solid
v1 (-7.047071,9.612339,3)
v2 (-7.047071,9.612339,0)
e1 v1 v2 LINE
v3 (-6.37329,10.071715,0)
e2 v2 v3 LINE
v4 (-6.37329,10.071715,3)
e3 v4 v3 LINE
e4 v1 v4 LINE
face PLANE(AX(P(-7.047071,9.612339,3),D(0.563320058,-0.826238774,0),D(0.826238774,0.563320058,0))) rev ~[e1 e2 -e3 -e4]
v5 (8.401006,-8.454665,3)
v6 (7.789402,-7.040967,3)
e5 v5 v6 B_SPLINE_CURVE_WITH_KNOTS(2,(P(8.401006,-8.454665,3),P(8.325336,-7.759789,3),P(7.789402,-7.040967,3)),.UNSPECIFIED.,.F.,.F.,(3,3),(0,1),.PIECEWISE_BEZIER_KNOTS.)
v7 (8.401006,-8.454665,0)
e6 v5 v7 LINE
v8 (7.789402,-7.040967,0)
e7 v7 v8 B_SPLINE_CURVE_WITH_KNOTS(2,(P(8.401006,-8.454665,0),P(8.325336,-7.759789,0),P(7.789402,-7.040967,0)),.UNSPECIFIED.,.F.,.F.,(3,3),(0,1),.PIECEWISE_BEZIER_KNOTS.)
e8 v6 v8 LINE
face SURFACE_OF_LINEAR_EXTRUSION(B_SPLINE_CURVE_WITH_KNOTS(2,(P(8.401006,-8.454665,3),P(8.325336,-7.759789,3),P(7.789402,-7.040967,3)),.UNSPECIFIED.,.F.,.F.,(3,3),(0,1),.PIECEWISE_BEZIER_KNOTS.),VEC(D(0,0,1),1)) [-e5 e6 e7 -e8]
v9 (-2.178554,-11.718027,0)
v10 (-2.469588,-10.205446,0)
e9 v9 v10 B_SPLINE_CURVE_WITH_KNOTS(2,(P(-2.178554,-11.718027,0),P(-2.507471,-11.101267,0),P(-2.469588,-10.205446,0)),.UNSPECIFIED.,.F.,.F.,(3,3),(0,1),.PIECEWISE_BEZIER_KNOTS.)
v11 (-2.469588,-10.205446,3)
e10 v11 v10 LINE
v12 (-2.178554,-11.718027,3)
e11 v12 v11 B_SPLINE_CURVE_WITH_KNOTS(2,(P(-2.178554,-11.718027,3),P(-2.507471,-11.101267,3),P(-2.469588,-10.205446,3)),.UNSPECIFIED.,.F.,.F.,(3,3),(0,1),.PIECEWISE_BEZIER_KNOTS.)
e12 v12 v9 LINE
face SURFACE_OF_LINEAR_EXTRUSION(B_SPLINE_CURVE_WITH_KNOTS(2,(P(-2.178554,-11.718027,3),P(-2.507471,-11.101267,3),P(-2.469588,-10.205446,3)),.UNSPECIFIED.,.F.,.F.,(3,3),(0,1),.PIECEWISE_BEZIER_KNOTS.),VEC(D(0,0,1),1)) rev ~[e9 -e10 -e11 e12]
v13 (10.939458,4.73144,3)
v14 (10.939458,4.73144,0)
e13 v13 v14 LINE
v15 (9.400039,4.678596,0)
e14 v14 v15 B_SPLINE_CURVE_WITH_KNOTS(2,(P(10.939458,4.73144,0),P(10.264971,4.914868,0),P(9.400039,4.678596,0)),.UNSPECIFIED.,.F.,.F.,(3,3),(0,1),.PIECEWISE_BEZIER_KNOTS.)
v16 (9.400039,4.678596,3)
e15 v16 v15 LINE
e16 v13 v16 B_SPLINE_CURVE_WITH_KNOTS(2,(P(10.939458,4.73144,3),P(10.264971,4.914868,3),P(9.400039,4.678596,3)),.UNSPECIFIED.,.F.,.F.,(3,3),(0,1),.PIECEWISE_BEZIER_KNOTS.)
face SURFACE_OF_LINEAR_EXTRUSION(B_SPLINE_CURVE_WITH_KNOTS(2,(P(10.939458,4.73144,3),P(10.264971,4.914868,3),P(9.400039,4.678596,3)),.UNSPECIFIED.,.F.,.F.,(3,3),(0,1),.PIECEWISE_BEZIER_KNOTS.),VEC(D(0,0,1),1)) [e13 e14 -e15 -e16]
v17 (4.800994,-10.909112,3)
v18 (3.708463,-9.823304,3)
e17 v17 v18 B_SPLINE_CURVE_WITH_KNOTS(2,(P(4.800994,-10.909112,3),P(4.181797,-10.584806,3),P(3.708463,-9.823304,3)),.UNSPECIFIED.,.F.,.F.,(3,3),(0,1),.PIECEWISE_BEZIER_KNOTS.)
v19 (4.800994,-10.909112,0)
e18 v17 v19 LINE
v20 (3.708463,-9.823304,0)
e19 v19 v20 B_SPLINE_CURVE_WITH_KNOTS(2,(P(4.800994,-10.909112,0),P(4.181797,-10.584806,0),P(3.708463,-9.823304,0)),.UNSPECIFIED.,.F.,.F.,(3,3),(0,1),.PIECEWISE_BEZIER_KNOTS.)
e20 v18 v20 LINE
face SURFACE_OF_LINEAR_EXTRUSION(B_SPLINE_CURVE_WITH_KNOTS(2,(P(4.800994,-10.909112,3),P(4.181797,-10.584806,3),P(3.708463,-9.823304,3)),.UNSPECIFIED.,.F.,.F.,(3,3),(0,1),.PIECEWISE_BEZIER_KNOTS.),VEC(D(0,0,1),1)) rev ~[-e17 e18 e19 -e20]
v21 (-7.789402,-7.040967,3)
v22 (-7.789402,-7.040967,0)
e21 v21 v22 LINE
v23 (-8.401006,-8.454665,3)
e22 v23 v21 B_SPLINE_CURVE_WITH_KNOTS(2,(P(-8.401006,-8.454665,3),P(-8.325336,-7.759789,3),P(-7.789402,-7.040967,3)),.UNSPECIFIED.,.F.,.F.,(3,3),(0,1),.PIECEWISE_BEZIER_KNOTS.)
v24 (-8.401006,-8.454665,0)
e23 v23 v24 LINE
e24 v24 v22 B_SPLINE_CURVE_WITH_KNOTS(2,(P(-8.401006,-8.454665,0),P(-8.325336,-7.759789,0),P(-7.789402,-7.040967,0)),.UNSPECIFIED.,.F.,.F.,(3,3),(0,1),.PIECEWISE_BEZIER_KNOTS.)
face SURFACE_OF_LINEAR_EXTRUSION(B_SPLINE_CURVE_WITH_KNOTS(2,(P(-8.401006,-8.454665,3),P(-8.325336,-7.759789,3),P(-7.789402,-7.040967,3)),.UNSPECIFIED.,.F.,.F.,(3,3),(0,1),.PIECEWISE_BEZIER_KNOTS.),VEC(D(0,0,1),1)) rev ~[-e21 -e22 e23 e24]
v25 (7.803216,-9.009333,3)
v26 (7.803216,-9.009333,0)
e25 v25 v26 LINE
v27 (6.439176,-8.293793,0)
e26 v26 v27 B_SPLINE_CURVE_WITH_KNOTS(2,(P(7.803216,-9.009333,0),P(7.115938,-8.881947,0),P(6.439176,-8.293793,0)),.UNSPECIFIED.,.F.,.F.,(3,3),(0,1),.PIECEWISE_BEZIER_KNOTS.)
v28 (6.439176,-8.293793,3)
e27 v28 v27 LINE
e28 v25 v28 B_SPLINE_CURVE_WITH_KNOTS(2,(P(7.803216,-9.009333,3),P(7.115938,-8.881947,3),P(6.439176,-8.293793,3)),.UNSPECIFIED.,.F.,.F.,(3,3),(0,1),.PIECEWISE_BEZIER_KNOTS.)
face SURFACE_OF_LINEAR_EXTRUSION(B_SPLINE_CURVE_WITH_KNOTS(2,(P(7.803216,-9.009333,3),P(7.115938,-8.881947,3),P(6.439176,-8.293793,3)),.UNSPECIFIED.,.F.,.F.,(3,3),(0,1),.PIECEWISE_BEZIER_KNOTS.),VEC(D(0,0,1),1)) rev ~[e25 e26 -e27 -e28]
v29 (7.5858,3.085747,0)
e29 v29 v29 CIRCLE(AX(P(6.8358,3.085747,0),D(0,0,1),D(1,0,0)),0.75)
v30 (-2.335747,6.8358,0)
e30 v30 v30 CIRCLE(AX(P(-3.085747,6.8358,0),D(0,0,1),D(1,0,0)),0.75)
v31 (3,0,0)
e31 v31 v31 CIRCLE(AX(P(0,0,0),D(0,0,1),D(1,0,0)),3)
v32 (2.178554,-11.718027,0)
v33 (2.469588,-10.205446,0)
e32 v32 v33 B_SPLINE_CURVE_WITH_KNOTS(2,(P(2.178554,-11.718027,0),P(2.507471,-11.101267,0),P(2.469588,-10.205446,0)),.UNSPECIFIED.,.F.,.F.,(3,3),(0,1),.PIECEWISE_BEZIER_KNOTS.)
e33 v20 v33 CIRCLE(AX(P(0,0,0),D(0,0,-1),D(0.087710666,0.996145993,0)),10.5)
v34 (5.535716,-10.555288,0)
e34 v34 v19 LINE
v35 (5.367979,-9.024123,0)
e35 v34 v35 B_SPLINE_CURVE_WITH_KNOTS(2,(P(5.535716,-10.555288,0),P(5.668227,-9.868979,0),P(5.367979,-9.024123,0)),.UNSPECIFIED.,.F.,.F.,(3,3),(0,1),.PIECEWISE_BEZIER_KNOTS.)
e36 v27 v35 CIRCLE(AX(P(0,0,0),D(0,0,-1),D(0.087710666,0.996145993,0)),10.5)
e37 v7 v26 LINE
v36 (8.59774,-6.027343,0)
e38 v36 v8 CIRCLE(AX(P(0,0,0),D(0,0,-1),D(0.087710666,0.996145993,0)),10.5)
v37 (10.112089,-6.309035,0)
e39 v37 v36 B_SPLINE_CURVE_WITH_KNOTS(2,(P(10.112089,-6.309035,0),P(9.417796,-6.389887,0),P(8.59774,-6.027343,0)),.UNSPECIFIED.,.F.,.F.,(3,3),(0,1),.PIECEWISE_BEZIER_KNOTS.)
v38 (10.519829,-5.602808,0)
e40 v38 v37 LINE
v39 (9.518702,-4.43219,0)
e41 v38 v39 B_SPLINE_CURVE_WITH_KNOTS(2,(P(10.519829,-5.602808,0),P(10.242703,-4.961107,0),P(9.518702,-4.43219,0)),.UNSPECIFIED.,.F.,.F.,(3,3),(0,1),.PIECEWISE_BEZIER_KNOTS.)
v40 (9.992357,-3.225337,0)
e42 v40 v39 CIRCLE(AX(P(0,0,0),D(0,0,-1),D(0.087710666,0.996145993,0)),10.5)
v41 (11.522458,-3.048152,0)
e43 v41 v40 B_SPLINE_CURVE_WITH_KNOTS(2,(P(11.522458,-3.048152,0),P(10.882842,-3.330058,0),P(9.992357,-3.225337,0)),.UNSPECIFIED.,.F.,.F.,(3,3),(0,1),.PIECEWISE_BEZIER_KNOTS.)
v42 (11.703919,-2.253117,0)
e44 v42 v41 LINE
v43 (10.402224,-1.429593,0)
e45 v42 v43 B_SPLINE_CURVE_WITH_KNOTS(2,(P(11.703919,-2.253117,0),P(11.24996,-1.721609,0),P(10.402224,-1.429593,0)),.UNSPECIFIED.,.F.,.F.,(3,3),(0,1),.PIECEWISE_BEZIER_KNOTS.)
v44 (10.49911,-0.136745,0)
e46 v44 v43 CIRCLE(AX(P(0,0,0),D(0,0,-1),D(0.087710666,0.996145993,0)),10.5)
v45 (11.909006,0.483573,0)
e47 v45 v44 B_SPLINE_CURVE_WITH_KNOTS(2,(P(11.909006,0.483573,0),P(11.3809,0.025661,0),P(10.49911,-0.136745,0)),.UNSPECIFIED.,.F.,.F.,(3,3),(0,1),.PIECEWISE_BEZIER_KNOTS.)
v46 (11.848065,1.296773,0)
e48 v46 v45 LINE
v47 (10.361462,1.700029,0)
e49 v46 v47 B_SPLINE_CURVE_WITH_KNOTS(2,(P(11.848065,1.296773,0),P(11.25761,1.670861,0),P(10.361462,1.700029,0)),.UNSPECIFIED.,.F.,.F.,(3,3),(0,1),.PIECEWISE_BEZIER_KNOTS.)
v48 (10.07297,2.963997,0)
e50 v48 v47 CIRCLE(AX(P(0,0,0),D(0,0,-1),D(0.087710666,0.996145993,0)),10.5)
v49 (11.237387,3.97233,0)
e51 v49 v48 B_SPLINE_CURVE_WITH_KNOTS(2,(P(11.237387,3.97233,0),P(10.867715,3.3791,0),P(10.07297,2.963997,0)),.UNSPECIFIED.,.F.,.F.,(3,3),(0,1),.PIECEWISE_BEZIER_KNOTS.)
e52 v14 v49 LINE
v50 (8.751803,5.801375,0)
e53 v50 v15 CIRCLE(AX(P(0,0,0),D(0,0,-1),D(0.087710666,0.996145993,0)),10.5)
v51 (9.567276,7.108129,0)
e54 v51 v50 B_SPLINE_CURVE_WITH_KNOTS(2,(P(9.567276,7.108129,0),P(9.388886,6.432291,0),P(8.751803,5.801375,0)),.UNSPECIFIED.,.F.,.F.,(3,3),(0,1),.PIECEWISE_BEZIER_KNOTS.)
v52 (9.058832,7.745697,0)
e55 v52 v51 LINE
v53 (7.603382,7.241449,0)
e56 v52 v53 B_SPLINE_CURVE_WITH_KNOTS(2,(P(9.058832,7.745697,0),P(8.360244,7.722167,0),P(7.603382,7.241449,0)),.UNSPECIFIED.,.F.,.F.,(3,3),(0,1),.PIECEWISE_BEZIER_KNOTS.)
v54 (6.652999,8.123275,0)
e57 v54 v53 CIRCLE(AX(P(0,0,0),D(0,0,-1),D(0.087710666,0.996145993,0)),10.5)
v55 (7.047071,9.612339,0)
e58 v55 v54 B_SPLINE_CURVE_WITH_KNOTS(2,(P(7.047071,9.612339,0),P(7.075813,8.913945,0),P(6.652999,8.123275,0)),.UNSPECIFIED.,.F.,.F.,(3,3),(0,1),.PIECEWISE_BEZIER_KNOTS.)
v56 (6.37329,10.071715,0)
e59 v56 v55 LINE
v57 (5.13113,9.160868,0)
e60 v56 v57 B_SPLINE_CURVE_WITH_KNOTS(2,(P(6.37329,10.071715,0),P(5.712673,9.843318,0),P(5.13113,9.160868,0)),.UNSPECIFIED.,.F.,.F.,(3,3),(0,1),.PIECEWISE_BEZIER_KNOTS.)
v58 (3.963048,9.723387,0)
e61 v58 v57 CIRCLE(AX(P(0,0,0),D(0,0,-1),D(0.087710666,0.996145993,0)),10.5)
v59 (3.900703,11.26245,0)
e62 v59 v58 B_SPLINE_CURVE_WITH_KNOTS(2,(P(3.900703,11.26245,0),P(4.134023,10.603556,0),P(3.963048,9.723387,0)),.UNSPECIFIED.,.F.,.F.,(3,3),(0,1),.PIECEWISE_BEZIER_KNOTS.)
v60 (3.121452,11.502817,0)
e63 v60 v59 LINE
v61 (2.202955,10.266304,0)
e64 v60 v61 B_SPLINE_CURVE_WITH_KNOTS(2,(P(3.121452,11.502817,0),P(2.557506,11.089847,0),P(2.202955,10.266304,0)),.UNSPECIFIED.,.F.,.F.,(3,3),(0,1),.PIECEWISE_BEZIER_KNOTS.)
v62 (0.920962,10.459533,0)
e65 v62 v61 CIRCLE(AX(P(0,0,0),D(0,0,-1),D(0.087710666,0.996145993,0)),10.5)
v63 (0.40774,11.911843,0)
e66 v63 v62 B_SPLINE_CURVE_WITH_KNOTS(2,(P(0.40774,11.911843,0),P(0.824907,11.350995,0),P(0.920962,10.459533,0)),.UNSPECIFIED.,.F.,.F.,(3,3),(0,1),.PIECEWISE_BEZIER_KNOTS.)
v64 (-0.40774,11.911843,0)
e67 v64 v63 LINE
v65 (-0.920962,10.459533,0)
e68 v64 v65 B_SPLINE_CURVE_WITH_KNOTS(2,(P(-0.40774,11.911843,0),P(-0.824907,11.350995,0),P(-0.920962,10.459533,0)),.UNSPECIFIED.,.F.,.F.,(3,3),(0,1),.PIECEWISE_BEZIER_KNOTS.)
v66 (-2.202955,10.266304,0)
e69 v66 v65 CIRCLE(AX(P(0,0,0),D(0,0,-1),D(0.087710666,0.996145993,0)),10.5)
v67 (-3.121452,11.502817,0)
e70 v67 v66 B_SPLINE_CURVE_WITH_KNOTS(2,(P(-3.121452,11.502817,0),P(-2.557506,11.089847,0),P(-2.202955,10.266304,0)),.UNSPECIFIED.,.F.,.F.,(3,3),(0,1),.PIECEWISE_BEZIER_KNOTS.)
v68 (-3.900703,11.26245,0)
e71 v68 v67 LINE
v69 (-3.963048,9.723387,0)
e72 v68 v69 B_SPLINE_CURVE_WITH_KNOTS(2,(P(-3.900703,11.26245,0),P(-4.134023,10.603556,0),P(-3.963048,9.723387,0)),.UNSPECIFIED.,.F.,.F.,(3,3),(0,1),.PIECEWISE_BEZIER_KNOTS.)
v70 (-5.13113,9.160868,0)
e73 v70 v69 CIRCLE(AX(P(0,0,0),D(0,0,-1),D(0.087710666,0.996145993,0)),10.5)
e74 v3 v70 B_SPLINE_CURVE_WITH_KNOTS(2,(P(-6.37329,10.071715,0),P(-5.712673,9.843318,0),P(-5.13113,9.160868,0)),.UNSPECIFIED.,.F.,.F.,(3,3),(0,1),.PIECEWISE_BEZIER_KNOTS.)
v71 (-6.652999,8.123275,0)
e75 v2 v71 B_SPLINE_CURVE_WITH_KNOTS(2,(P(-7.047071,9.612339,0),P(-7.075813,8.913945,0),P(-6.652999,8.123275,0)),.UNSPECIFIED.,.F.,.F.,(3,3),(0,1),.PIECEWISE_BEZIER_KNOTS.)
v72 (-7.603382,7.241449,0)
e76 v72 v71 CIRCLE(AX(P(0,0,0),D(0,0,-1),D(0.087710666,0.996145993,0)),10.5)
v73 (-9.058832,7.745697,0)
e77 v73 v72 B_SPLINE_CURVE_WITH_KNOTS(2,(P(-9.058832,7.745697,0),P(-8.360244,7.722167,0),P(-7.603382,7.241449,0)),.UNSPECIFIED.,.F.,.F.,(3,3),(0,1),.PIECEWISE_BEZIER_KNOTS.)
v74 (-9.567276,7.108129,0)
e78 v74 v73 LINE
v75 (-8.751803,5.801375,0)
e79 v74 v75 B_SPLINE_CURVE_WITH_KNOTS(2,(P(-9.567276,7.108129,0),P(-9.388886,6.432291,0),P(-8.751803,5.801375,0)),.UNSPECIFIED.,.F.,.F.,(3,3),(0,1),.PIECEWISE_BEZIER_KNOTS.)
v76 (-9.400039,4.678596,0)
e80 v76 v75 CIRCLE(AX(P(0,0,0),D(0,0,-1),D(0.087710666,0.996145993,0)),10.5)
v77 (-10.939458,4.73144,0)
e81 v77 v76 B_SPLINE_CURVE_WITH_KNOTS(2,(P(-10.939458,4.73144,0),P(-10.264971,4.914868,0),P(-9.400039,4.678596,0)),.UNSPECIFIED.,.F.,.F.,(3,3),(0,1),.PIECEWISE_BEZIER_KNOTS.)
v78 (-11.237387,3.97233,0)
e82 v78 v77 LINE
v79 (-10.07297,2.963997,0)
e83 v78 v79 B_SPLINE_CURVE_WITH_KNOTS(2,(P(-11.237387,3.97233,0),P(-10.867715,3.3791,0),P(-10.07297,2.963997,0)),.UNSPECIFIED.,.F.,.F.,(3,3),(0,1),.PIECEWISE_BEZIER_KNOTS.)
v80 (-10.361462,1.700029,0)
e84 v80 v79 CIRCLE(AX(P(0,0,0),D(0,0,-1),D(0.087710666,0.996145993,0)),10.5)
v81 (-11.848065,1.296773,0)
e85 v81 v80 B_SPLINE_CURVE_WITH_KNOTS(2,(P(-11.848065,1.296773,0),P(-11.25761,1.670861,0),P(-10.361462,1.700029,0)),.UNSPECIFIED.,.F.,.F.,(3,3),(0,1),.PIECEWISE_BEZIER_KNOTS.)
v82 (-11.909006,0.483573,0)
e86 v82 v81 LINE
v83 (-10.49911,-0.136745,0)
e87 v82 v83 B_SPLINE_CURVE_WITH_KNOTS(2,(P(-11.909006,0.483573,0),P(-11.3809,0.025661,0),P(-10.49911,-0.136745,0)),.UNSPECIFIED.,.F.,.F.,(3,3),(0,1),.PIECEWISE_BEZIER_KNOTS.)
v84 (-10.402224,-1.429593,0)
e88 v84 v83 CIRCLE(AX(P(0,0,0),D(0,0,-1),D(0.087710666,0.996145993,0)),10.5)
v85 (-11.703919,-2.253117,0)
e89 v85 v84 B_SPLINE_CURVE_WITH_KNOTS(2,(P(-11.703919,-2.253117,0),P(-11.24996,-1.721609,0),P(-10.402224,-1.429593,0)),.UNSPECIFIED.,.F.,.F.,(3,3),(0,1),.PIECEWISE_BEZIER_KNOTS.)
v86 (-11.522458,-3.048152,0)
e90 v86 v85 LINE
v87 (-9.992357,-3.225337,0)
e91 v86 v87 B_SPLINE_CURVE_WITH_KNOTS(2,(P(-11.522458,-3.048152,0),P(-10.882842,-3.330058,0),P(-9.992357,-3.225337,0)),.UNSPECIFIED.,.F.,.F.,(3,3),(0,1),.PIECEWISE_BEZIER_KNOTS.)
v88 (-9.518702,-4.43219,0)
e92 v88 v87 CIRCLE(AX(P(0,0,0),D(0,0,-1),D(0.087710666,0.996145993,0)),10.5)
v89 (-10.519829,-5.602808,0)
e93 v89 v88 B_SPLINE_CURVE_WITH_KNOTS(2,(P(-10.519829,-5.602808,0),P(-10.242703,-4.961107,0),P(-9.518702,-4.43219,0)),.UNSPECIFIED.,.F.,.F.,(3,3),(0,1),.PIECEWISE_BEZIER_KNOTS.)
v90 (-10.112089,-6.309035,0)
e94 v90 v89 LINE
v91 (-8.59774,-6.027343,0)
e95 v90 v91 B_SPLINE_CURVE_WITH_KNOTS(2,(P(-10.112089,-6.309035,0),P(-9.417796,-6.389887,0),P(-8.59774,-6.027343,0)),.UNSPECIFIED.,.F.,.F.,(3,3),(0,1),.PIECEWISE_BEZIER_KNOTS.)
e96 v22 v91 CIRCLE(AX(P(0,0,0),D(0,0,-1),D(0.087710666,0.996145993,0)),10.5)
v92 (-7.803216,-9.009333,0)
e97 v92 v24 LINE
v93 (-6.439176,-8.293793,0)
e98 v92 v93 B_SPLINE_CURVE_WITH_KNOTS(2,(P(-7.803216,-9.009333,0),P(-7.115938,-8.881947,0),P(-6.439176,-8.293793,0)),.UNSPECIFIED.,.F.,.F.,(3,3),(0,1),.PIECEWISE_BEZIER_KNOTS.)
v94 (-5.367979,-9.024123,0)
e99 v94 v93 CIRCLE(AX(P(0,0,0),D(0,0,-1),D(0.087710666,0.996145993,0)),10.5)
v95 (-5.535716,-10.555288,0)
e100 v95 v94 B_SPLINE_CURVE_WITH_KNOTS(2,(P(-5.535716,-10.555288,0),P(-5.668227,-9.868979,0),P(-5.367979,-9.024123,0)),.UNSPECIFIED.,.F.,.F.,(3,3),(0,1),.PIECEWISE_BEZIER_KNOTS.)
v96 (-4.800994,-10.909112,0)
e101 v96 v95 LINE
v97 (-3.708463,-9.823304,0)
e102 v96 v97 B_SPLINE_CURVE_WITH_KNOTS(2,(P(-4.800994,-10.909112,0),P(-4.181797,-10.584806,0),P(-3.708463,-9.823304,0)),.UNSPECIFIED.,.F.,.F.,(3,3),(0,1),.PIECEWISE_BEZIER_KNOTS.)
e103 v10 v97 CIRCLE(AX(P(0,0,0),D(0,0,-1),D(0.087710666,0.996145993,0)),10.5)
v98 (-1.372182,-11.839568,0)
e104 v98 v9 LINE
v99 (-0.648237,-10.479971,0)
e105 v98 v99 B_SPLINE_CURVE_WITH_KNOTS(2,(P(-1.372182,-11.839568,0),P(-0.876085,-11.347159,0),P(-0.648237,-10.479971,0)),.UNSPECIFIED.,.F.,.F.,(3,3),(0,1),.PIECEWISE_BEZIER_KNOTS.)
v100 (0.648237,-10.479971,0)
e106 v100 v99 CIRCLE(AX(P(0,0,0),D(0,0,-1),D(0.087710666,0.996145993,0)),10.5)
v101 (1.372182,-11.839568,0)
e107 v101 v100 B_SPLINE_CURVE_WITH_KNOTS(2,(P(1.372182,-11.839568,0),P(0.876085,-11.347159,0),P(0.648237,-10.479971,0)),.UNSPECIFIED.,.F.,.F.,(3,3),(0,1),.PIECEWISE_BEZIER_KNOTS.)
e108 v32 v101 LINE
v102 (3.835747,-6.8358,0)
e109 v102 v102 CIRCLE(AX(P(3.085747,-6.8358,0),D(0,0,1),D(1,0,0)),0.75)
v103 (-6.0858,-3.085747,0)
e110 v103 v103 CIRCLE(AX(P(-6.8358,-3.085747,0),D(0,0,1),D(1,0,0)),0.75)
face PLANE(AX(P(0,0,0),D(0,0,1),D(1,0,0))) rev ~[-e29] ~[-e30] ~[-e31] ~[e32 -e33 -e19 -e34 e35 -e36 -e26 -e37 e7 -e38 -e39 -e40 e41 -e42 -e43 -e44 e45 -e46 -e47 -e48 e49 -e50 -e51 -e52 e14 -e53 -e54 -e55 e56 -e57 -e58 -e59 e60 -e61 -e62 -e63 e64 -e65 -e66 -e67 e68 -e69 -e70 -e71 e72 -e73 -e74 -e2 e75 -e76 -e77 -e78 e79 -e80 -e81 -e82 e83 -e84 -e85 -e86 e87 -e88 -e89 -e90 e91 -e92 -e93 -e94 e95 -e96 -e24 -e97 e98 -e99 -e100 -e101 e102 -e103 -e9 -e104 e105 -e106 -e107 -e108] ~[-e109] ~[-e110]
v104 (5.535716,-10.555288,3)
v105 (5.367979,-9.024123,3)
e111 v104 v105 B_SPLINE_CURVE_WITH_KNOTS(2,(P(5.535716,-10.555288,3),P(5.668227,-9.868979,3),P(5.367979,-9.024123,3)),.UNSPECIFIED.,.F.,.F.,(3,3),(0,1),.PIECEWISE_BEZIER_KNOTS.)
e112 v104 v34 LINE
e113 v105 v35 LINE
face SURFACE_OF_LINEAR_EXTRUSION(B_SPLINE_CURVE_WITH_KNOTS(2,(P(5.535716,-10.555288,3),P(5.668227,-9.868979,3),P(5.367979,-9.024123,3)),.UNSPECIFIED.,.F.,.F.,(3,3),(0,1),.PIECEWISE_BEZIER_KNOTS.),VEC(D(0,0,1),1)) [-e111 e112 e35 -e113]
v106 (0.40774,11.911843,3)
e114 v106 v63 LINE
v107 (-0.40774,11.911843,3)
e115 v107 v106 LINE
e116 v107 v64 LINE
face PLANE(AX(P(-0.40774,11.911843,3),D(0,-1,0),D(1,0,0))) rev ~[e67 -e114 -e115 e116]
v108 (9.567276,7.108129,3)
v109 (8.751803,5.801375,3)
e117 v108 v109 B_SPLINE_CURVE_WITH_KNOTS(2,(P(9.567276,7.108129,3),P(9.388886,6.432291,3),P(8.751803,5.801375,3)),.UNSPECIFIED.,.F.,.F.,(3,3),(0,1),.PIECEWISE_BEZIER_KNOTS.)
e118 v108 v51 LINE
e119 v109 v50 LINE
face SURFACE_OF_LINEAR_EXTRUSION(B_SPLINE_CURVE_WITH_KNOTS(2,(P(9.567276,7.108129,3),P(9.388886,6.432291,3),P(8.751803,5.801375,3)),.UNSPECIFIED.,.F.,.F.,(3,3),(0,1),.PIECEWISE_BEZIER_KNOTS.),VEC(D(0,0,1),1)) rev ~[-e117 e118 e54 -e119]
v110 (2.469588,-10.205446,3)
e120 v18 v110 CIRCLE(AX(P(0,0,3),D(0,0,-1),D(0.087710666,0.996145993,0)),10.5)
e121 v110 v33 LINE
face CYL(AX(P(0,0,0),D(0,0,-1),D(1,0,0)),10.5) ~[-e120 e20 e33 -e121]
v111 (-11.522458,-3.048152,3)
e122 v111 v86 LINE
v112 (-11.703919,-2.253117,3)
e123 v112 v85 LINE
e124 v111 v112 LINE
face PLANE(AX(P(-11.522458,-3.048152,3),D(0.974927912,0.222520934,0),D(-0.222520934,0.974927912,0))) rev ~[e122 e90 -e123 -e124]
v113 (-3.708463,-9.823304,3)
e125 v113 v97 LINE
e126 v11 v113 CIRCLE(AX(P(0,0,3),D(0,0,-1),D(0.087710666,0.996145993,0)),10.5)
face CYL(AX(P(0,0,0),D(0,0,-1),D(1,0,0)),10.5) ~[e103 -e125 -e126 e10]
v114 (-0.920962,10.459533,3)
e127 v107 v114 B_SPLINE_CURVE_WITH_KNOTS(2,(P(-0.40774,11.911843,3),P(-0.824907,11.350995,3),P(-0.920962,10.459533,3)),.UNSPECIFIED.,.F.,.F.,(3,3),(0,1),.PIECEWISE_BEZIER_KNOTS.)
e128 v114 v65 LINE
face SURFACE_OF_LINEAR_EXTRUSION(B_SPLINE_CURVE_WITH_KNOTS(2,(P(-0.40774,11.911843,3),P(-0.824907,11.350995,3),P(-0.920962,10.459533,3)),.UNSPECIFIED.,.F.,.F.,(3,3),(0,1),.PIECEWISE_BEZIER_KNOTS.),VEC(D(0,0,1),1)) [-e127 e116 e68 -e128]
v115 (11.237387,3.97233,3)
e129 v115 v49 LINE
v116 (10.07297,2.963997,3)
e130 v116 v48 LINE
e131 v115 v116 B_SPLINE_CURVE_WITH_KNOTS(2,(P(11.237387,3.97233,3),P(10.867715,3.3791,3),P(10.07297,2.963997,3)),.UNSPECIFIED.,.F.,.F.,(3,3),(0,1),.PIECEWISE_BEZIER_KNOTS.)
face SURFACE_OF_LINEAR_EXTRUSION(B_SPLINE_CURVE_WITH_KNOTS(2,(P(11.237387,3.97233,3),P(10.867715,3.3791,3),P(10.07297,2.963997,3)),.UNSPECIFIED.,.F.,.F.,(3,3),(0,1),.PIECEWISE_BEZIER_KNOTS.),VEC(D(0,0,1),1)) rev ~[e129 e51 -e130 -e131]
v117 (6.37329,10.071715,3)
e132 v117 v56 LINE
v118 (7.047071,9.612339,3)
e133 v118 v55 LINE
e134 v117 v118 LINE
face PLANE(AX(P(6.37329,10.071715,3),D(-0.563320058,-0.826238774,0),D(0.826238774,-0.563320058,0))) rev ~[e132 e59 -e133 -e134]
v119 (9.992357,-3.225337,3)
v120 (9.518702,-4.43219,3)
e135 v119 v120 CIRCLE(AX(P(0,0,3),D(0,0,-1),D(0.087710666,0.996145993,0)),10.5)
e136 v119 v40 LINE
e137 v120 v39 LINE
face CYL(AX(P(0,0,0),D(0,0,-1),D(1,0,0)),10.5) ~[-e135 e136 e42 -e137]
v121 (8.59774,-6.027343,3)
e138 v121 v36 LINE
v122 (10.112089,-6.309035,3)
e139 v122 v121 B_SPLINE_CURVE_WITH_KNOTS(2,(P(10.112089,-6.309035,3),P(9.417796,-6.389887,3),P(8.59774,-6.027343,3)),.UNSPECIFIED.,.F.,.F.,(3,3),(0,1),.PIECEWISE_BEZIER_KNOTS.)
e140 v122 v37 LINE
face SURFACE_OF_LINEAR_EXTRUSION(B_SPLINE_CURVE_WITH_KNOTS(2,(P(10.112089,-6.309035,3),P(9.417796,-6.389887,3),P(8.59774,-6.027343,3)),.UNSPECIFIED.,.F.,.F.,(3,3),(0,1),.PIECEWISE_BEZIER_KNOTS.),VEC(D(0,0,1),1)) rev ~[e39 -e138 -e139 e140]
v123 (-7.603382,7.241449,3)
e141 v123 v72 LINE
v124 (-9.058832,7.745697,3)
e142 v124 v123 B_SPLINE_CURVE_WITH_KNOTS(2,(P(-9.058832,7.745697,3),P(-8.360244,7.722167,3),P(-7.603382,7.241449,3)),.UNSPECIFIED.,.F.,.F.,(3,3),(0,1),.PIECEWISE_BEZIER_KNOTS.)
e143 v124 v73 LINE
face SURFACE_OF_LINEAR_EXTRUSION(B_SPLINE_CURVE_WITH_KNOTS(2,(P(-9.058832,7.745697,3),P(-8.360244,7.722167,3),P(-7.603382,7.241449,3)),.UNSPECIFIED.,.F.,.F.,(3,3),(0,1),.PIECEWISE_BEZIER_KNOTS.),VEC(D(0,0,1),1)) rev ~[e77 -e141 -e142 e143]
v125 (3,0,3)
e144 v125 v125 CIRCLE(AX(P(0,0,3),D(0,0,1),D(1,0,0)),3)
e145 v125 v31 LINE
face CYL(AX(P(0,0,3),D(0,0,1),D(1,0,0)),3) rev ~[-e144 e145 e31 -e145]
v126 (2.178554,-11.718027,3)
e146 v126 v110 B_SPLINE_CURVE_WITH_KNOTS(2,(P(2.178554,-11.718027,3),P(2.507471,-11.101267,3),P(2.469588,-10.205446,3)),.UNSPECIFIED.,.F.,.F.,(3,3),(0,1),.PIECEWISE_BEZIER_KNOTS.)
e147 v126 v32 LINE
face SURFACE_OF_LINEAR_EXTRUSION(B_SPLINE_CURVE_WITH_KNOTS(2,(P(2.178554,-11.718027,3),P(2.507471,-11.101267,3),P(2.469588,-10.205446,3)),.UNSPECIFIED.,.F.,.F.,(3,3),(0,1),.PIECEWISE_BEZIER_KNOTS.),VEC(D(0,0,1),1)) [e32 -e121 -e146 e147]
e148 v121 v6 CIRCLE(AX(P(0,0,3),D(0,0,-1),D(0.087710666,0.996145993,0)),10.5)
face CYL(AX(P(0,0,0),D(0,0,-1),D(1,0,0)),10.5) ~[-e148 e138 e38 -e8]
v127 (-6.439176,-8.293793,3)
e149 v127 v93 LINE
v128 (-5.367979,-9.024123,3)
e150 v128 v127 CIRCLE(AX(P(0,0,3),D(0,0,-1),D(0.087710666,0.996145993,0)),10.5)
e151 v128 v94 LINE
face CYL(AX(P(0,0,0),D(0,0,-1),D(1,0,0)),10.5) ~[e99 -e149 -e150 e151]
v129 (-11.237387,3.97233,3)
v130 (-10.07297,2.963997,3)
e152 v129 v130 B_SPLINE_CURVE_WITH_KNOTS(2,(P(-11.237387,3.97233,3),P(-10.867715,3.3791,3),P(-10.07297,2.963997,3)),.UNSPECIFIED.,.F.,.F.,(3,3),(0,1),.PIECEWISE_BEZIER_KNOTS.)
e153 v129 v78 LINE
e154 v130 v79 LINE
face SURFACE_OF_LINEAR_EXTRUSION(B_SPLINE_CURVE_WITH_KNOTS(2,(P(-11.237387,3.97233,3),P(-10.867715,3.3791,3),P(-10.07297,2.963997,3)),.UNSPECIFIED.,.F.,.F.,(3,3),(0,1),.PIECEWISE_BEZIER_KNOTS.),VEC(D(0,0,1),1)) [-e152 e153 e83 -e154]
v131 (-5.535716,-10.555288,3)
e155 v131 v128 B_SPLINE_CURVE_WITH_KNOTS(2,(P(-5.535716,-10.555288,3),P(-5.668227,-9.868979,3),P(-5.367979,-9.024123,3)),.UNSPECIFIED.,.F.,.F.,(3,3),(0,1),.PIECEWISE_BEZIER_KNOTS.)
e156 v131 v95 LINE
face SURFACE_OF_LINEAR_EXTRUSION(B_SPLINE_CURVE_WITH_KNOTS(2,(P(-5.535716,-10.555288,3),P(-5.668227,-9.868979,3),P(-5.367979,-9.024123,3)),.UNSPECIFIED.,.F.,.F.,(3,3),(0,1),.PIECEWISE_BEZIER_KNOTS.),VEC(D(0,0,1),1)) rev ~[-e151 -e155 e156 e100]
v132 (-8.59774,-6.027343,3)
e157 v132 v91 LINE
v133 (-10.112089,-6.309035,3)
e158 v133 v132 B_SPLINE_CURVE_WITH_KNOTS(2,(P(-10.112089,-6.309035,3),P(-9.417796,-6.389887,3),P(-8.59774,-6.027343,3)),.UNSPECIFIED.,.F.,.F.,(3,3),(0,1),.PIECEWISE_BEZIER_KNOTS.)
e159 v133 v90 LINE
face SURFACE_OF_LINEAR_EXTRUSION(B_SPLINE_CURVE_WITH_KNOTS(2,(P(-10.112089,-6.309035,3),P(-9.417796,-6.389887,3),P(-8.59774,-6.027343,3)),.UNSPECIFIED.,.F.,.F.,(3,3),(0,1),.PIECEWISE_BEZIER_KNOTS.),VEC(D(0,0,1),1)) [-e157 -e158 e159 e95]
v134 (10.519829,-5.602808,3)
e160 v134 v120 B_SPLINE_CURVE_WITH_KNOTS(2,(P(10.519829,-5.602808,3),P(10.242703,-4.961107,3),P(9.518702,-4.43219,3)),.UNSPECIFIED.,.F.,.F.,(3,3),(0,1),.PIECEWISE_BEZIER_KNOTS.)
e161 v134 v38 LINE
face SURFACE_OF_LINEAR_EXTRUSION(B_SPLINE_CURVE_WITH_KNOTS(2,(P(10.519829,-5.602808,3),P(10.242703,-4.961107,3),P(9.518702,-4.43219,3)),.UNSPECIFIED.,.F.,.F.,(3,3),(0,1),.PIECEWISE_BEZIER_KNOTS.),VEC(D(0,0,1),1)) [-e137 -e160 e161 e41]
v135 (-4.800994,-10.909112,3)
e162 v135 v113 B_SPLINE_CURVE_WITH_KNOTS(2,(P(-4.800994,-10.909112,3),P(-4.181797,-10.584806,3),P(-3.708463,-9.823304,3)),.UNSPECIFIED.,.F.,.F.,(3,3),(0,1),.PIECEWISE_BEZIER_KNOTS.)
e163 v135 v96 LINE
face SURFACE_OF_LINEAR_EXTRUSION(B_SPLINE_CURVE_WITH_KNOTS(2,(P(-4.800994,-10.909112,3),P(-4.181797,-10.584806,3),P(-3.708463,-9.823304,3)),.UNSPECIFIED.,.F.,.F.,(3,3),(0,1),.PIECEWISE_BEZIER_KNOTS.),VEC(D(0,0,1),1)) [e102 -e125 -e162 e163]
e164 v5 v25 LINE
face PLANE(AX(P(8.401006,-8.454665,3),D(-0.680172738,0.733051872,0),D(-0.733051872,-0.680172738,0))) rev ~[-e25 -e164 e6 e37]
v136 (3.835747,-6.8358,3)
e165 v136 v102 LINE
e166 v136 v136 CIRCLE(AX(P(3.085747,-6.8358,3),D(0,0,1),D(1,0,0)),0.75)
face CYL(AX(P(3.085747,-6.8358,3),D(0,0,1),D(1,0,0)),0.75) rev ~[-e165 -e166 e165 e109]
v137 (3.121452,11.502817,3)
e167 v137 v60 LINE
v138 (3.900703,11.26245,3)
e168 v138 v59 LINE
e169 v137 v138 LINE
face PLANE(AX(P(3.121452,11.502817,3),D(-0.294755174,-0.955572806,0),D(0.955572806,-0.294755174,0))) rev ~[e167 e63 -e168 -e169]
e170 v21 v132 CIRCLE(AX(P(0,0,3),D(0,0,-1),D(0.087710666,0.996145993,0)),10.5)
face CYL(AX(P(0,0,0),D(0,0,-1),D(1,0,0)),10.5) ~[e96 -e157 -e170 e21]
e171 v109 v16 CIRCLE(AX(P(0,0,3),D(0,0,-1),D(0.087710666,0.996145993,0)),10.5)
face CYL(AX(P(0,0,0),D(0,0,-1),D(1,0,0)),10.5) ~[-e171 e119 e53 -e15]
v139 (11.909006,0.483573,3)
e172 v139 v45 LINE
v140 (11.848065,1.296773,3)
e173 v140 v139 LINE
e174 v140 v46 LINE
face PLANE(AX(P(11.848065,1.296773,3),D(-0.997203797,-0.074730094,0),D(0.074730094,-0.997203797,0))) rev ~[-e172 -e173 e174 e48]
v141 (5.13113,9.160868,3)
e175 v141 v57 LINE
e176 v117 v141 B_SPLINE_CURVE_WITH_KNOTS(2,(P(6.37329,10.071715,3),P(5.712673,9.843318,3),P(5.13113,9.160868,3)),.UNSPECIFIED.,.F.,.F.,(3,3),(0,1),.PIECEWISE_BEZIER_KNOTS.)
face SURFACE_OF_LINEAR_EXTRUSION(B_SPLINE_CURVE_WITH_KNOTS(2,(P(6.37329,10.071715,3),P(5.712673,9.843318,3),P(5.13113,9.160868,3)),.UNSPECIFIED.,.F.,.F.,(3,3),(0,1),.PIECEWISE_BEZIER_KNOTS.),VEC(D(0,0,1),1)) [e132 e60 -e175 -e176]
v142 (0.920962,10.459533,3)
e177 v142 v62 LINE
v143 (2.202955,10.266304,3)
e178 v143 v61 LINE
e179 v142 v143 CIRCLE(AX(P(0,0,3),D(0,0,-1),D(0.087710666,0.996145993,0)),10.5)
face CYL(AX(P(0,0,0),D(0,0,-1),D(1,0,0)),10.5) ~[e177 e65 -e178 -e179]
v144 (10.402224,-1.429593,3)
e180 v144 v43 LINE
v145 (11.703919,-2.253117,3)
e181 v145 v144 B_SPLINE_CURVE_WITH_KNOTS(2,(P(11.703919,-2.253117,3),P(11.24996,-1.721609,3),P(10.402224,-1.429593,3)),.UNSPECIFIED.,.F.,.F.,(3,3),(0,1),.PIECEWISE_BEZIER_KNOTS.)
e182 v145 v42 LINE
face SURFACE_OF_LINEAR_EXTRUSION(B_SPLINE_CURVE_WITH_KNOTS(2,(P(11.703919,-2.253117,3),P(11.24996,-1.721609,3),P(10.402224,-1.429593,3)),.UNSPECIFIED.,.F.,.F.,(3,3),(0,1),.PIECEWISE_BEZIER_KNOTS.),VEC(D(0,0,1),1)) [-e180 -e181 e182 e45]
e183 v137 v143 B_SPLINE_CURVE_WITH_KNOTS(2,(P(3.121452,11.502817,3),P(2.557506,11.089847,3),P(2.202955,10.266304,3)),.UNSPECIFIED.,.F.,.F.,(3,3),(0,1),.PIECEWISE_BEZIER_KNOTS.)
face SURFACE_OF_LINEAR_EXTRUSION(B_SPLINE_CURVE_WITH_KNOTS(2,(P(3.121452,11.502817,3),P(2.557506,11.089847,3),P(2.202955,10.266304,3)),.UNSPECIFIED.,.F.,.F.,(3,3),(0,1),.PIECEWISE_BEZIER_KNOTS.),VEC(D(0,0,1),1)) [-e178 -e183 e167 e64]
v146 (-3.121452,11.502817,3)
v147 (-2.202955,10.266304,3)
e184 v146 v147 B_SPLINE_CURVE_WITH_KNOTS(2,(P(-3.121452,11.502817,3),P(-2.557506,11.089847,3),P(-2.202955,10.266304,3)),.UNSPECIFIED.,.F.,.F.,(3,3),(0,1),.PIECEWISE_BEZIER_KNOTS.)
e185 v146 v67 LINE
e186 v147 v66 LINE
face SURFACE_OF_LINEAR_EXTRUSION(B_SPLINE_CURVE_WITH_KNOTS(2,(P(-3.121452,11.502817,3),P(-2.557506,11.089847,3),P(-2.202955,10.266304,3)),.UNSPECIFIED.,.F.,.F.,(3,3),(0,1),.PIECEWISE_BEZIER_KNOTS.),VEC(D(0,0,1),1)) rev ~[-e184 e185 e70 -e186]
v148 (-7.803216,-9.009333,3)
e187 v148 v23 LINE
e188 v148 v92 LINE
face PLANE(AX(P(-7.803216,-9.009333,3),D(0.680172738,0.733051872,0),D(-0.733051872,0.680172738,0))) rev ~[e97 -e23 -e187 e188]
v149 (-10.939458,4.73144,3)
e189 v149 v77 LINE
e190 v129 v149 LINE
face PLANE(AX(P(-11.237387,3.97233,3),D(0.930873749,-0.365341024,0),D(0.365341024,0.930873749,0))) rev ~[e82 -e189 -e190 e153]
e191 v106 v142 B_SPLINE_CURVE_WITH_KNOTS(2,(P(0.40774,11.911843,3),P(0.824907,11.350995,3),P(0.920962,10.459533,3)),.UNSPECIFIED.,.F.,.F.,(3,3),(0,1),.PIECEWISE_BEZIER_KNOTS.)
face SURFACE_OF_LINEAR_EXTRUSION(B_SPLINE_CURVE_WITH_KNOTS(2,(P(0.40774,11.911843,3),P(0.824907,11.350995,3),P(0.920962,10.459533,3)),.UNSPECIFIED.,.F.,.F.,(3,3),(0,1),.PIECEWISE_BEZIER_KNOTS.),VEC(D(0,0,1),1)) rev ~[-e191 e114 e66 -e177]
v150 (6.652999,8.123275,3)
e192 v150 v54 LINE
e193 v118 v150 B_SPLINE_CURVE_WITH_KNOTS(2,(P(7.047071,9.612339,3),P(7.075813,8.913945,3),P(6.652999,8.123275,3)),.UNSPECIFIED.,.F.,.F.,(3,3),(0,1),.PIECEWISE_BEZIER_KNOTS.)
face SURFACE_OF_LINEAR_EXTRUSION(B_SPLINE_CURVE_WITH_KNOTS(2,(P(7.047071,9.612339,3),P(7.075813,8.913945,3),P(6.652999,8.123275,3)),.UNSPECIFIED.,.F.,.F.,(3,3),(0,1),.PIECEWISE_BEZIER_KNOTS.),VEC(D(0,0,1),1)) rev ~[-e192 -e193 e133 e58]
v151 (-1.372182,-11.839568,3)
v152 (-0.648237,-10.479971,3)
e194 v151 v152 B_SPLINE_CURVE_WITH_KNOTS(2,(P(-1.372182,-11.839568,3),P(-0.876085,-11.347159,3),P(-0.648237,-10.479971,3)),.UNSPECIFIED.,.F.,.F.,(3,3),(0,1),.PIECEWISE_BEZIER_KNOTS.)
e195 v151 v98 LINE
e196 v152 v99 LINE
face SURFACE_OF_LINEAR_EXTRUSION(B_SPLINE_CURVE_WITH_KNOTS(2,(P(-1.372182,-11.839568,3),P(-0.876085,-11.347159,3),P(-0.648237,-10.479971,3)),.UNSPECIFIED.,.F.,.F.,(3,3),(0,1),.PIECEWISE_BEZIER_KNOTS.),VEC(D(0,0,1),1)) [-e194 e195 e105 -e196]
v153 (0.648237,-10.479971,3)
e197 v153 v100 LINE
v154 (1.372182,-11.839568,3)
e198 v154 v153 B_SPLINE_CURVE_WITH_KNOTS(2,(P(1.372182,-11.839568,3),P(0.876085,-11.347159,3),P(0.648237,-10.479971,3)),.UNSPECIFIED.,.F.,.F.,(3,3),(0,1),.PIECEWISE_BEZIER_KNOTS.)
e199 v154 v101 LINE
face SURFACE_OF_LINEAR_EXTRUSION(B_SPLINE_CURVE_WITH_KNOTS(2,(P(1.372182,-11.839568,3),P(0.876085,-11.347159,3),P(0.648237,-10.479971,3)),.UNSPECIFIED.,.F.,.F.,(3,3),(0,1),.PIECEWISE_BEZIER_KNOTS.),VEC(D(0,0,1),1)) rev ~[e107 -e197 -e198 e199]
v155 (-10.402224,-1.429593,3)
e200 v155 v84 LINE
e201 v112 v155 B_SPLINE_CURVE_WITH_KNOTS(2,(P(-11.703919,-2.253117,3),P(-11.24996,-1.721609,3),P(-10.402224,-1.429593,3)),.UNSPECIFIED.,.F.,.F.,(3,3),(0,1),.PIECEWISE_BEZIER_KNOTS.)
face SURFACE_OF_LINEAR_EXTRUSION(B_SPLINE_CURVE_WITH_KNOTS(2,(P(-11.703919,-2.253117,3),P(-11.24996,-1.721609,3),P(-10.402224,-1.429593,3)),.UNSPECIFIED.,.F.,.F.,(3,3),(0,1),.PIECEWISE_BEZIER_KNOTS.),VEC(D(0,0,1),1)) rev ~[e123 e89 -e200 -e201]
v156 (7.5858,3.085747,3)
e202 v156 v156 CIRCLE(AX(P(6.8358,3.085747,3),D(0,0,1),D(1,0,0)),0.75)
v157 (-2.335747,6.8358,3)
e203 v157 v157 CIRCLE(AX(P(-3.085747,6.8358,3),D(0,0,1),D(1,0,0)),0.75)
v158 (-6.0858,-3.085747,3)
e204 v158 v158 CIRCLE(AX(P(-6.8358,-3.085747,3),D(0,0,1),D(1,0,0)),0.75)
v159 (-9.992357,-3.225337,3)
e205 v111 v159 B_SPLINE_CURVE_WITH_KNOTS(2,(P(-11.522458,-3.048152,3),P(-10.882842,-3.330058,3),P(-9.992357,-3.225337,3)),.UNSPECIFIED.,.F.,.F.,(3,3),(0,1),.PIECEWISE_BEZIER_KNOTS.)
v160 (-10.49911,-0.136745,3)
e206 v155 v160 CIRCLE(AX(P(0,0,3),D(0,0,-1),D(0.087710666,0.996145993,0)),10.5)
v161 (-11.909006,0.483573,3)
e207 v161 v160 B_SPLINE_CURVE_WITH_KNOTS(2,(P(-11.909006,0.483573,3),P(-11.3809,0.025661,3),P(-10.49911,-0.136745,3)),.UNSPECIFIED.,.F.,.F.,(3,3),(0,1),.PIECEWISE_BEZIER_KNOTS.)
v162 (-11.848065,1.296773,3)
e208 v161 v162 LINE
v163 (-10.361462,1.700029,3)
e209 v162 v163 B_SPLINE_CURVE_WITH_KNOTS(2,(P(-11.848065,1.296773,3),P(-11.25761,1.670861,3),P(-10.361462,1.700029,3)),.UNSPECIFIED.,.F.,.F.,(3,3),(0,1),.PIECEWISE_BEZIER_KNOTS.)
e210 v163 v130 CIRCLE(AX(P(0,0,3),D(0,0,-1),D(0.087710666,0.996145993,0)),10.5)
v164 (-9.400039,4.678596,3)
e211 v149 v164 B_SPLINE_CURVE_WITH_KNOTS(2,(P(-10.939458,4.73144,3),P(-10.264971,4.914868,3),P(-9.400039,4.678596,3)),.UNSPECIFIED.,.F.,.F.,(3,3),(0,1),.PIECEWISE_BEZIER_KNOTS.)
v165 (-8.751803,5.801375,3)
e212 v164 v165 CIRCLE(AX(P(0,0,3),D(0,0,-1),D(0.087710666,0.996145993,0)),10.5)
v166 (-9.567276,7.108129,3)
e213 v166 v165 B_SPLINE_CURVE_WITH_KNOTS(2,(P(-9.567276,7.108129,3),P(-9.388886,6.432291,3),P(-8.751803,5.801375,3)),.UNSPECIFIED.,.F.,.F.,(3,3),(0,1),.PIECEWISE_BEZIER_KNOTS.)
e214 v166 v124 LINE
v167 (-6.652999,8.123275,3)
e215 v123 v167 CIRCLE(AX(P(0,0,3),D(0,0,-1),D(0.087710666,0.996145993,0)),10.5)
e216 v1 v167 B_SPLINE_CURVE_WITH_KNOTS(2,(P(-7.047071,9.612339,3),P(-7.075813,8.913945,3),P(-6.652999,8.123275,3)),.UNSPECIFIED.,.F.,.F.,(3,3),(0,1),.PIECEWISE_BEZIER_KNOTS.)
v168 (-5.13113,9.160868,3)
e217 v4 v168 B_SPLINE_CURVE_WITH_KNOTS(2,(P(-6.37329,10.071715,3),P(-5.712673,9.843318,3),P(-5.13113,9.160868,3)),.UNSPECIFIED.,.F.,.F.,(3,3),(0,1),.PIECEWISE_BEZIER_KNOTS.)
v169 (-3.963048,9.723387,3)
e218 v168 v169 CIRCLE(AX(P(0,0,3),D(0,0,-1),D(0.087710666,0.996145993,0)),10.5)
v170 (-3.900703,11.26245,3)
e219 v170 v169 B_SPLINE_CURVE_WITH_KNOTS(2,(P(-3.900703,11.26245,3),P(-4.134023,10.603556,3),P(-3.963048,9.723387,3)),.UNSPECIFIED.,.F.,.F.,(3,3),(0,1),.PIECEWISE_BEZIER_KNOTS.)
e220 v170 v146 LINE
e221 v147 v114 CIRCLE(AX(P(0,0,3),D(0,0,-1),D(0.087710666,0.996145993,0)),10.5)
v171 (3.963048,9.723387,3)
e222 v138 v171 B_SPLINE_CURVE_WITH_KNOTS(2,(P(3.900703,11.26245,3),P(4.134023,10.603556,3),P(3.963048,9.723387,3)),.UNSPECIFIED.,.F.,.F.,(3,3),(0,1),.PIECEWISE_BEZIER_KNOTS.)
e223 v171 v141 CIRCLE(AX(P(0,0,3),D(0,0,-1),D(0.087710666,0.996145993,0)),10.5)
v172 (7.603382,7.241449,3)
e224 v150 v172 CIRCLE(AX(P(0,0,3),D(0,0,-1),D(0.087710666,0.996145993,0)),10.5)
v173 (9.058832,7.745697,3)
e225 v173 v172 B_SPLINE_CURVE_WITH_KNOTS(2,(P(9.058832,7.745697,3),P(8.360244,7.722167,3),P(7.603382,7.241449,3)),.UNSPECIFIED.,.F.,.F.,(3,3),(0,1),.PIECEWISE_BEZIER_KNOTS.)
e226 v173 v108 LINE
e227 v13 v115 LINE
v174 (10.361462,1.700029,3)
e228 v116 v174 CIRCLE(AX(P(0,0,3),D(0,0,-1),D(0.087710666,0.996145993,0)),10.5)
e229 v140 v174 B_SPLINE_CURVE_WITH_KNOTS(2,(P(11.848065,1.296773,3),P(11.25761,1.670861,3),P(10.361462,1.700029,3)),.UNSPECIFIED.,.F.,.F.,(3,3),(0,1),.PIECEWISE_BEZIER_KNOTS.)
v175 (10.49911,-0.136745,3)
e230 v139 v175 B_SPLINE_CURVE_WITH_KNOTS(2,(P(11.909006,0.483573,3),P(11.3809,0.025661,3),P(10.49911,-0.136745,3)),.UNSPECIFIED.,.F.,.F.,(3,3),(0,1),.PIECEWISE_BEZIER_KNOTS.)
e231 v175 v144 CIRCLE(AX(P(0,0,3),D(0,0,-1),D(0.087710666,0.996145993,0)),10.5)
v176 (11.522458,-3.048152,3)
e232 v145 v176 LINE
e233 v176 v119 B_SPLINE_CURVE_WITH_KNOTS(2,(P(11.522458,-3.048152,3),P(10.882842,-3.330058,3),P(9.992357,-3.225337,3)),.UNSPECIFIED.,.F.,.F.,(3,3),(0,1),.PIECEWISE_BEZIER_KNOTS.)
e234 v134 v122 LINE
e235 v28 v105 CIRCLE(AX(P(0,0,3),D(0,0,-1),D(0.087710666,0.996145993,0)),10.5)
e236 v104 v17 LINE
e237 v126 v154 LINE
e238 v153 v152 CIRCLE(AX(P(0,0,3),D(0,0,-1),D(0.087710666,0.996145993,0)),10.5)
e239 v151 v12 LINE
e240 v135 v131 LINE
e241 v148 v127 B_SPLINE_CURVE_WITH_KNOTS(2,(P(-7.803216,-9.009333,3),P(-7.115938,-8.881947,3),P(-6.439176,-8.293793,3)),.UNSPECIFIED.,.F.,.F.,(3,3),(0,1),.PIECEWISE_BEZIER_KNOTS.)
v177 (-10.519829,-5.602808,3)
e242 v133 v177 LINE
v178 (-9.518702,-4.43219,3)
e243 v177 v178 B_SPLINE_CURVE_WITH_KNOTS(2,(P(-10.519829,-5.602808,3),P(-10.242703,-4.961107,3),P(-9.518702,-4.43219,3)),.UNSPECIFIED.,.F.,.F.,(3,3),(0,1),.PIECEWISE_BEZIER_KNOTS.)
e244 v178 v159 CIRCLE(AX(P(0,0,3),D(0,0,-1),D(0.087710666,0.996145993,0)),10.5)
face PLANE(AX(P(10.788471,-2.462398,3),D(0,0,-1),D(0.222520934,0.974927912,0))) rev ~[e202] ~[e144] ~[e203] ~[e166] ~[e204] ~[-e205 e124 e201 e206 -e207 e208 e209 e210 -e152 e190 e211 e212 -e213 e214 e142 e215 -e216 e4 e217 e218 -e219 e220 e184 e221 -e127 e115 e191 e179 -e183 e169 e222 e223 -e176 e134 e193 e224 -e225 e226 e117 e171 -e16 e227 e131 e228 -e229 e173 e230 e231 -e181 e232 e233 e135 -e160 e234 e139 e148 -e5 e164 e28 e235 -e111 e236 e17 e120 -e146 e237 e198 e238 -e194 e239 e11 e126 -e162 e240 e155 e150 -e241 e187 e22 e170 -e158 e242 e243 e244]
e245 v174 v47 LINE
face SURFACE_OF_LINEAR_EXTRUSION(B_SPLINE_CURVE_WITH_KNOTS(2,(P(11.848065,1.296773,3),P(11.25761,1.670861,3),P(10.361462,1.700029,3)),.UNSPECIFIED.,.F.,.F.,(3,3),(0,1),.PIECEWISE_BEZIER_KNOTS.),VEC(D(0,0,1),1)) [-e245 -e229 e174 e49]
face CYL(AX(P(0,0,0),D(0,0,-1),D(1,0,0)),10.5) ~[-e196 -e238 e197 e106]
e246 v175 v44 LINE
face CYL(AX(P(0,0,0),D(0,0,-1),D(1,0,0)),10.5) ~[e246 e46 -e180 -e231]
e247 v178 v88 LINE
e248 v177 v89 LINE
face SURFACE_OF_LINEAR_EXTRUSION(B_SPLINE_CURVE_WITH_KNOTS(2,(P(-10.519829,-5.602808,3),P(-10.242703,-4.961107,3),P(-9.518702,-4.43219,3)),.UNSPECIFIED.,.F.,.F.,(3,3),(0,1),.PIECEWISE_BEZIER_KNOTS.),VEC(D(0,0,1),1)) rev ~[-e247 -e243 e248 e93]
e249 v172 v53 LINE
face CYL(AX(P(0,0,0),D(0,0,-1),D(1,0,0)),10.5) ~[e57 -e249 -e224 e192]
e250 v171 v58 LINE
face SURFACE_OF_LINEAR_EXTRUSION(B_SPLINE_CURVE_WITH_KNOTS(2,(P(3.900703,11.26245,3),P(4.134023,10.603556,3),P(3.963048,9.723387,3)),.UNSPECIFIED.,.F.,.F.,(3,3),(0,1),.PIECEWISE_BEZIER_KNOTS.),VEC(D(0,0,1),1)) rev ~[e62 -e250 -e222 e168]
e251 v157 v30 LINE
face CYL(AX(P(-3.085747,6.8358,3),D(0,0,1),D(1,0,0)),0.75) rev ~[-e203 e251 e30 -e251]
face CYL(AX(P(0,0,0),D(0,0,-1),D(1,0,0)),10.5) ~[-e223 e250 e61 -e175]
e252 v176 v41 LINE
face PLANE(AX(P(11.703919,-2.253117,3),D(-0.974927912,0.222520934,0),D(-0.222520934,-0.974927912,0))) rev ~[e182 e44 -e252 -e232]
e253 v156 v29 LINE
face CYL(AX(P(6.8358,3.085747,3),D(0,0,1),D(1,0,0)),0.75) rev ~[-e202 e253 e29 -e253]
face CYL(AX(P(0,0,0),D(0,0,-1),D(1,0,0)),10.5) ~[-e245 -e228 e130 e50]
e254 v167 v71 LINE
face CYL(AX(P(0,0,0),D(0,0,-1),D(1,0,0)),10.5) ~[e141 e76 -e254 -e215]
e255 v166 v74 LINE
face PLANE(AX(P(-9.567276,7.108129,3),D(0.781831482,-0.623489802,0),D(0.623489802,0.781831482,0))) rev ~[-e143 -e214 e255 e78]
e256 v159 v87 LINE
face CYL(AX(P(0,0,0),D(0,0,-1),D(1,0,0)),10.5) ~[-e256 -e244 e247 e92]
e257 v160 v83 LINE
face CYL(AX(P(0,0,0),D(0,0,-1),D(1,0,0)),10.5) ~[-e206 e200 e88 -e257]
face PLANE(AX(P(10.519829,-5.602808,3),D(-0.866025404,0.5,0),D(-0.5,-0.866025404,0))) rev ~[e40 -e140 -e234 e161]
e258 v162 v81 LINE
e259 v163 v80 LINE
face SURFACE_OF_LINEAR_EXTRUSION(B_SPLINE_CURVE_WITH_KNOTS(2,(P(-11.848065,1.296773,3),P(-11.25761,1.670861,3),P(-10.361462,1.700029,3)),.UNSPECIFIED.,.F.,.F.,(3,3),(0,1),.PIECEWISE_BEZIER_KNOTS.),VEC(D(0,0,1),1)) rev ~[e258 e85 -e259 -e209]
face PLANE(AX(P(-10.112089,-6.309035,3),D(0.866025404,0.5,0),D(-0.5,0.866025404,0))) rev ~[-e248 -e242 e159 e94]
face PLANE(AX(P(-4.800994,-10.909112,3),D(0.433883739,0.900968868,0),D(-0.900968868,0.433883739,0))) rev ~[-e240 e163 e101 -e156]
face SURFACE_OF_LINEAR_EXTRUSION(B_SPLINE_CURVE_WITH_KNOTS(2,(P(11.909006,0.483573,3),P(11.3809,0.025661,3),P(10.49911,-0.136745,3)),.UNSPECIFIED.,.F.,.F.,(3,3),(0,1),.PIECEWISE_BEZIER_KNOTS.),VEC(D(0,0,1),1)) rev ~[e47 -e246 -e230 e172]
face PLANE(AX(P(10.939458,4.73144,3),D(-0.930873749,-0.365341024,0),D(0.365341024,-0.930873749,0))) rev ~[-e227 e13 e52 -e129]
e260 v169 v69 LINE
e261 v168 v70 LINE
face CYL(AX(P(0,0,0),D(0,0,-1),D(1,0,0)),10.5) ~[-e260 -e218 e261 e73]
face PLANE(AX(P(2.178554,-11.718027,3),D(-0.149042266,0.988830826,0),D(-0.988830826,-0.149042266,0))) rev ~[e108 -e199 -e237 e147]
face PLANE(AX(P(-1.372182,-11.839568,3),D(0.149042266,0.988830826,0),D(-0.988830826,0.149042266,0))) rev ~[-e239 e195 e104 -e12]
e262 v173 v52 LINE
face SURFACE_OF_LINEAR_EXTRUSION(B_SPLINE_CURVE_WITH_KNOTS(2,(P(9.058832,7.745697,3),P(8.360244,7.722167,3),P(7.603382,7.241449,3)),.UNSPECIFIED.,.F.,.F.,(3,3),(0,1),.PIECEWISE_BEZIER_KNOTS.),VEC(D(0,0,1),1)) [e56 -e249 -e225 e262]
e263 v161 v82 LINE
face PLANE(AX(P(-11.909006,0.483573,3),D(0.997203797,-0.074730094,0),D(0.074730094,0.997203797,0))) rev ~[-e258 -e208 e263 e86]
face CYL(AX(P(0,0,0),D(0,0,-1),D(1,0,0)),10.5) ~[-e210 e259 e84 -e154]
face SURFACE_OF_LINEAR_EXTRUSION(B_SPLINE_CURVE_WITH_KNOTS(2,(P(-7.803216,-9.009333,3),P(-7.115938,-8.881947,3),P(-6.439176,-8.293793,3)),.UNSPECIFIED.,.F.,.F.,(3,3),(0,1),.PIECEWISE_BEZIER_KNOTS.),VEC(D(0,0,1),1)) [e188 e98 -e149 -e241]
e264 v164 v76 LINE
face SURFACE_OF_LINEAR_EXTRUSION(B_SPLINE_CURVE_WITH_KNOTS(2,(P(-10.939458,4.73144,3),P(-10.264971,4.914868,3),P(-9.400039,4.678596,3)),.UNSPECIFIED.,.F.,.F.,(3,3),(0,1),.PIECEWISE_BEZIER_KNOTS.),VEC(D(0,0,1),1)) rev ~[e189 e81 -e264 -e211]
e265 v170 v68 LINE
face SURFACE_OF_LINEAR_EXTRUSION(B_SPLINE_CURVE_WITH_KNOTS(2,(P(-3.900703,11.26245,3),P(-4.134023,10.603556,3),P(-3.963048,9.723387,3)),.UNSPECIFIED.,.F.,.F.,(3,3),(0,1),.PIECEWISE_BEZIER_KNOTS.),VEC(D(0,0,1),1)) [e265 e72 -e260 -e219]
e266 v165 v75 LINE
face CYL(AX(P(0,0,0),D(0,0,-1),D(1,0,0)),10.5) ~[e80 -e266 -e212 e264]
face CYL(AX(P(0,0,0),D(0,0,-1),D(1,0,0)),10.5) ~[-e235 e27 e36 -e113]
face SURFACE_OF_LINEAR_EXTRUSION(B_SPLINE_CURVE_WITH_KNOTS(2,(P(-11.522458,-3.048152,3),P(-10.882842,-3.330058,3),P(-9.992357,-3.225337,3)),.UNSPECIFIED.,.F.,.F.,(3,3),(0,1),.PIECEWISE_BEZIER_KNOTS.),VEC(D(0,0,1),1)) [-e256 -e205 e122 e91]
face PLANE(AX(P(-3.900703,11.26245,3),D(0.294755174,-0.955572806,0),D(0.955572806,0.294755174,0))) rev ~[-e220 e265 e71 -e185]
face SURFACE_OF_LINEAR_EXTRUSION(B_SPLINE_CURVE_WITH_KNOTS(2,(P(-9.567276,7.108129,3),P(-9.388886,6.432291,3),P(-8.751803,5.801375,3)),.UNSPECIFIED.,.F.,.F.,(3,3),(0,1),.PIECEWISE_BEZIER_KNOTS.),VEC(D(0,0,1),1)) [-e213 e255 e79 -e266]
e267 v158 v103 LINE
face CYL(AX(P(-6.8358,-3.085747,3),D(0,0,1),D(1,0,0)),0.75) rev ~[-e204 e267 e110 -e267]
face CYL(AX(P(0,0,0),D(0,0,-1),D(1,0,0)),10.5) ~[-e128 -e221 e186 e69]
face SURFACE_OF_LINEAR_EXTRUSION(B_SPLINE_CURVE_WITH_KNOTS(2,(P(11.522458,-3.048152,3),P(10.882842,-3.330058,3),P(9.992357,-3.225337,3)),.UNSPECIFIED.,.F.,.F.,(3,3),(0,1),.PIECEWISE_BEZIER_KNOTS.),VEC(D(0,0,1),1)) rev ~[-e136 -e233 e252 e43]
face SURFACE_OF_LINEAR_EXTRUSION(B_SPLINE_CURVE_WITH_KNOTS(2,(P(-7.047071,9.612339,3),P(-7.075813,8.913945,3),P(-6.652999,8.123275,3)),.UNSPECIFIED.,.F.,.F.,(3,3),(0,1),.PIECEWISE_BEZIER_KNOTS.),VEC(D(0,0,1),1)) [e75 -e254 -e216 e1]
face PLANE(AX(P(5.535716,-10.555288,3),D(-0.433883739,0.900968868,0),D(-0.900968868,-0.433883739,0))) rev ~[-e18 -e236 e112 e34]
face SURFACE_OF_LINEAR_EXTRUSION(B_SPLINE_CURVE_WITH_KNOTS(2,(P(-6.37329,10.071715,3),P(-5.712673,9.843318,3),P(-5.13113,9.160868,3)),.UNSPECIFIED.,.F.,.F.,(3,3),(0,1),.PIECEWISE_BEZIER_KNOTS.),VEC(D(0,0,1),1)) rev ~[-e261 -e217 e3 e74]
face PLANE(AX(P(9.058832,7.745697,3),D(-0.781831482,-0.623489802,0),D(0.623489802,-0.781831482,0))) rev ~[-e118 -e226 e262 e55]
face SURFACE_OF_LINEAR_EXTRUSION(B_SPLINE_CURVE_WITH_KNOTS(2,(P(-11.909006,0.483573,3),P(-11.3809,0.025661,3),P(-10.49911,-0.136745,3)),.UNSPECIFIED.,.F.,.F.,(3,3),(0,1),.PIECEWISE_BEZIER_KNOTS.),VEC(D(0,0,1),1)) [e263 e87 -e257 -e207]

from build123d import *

# Parameters (mm, degrees)
SKIZZE1_R                       = 10.5
AUFSATZ_LINEAR_AUSTRAGEN1_DEPTH = 3
AUFSATZ_LINEAR_AUSTRAGEN2_DEPTH = 3
KREISMUSTER1_COUNT              = 21
SKIZZE3_R                       = 0.75
SCHNITT_LINEAR_AUSTRAGEN1_DEPTH = 6.1
SKIZZE4_R                       = 3
SCHNITT_LINEAR_AUSTRAGEN2_DEPTH = 6.1


with BuildPart() as part:
    # Skizze1 → Aufsatz-Linear austragen1 (new body)
    with BuildSketch(Plane.XY):
        Circle(SKIZZE1_R)
    extrude(amount=AUFSATZ_LINEAR_AUSTRAGEN1_DEPTH)

    # Skizze2 → Aufsatz-Linear austragen2 (add)
    with BuildSketch(Plane.XY.offset(3)):
        with BuildLine():
            Line((0.920961993, 10.459532925), (-0.920961993, 10.459532925))
            add(Edge.make_bspline(
                [(-0.407740146, 11.911843377), (-0.824906562, 11.350994541), (-0.920961993, 10.459532925)],
                knots=[0, 0, 0, 1, 1, 1], degree=2))
            Line((-0.407740146, 11.911843377), (0.407740146, 11.911843377))
            add(Edge.make_bspline(
                [(0.407740146, 11.911843377), (0.824906562, 11.350994541), (0.920961993, 10.459532925)],
                knots=[0, 0, 0, 1, 1, 1], degree=2))
        make_face()
    aufsatz_linear_austragen2 = extrude(amount=-AUFSATZ_LINEAR_AUSTRAGEN2_DEPTH)

    # Kreismuster1: Aufsatz-Linear austragen2 ×21 about axis
    kreismuster1_axis = Axis((0, 0, 3), (0, 0, 1))
    for i in range(1, KREISMUSTER1_COUNT):
        add(aufsatz_linear_austragen2.rotate(kreismuster1_axis, i * 360 / KREISMUSTER1_COUNT))

    # Skizze3 → Schnitt-Linear austragen1 (cut)
    with BuildSketch(Plane.XY.offset(3)):
        with Locations((-3.085747028, 6.835800266)):
            Circle(SKIZZE3_R)
        with Locations((6.835800266, 3.085747028)):
            Circle(SKIZZE3_R)
        with Locations((-6.835800266, -3.085747028)):
            Circle(SKIZZE3_R)
        with Locations((3.085747028, -6.835800266)):
            Circle(SKIZZE3_R)
    extrude(amount=-SCHNITT_LINEAR_AUSTRAGEN1_DEPTH, mode=Mode.SUBTRACT)

    # Skizze4 → Schnitt-Linear austragen2 (cut)
    with BuildSketch(Plane.XY.offset(3)):
        Circle(SKIZZE4_R)
    extrude(amount=-SCHNITT_LINEAR_AUSTRAGEN2_DEPTH, mode=Mode.SUBTRACT)


solid = part.part
